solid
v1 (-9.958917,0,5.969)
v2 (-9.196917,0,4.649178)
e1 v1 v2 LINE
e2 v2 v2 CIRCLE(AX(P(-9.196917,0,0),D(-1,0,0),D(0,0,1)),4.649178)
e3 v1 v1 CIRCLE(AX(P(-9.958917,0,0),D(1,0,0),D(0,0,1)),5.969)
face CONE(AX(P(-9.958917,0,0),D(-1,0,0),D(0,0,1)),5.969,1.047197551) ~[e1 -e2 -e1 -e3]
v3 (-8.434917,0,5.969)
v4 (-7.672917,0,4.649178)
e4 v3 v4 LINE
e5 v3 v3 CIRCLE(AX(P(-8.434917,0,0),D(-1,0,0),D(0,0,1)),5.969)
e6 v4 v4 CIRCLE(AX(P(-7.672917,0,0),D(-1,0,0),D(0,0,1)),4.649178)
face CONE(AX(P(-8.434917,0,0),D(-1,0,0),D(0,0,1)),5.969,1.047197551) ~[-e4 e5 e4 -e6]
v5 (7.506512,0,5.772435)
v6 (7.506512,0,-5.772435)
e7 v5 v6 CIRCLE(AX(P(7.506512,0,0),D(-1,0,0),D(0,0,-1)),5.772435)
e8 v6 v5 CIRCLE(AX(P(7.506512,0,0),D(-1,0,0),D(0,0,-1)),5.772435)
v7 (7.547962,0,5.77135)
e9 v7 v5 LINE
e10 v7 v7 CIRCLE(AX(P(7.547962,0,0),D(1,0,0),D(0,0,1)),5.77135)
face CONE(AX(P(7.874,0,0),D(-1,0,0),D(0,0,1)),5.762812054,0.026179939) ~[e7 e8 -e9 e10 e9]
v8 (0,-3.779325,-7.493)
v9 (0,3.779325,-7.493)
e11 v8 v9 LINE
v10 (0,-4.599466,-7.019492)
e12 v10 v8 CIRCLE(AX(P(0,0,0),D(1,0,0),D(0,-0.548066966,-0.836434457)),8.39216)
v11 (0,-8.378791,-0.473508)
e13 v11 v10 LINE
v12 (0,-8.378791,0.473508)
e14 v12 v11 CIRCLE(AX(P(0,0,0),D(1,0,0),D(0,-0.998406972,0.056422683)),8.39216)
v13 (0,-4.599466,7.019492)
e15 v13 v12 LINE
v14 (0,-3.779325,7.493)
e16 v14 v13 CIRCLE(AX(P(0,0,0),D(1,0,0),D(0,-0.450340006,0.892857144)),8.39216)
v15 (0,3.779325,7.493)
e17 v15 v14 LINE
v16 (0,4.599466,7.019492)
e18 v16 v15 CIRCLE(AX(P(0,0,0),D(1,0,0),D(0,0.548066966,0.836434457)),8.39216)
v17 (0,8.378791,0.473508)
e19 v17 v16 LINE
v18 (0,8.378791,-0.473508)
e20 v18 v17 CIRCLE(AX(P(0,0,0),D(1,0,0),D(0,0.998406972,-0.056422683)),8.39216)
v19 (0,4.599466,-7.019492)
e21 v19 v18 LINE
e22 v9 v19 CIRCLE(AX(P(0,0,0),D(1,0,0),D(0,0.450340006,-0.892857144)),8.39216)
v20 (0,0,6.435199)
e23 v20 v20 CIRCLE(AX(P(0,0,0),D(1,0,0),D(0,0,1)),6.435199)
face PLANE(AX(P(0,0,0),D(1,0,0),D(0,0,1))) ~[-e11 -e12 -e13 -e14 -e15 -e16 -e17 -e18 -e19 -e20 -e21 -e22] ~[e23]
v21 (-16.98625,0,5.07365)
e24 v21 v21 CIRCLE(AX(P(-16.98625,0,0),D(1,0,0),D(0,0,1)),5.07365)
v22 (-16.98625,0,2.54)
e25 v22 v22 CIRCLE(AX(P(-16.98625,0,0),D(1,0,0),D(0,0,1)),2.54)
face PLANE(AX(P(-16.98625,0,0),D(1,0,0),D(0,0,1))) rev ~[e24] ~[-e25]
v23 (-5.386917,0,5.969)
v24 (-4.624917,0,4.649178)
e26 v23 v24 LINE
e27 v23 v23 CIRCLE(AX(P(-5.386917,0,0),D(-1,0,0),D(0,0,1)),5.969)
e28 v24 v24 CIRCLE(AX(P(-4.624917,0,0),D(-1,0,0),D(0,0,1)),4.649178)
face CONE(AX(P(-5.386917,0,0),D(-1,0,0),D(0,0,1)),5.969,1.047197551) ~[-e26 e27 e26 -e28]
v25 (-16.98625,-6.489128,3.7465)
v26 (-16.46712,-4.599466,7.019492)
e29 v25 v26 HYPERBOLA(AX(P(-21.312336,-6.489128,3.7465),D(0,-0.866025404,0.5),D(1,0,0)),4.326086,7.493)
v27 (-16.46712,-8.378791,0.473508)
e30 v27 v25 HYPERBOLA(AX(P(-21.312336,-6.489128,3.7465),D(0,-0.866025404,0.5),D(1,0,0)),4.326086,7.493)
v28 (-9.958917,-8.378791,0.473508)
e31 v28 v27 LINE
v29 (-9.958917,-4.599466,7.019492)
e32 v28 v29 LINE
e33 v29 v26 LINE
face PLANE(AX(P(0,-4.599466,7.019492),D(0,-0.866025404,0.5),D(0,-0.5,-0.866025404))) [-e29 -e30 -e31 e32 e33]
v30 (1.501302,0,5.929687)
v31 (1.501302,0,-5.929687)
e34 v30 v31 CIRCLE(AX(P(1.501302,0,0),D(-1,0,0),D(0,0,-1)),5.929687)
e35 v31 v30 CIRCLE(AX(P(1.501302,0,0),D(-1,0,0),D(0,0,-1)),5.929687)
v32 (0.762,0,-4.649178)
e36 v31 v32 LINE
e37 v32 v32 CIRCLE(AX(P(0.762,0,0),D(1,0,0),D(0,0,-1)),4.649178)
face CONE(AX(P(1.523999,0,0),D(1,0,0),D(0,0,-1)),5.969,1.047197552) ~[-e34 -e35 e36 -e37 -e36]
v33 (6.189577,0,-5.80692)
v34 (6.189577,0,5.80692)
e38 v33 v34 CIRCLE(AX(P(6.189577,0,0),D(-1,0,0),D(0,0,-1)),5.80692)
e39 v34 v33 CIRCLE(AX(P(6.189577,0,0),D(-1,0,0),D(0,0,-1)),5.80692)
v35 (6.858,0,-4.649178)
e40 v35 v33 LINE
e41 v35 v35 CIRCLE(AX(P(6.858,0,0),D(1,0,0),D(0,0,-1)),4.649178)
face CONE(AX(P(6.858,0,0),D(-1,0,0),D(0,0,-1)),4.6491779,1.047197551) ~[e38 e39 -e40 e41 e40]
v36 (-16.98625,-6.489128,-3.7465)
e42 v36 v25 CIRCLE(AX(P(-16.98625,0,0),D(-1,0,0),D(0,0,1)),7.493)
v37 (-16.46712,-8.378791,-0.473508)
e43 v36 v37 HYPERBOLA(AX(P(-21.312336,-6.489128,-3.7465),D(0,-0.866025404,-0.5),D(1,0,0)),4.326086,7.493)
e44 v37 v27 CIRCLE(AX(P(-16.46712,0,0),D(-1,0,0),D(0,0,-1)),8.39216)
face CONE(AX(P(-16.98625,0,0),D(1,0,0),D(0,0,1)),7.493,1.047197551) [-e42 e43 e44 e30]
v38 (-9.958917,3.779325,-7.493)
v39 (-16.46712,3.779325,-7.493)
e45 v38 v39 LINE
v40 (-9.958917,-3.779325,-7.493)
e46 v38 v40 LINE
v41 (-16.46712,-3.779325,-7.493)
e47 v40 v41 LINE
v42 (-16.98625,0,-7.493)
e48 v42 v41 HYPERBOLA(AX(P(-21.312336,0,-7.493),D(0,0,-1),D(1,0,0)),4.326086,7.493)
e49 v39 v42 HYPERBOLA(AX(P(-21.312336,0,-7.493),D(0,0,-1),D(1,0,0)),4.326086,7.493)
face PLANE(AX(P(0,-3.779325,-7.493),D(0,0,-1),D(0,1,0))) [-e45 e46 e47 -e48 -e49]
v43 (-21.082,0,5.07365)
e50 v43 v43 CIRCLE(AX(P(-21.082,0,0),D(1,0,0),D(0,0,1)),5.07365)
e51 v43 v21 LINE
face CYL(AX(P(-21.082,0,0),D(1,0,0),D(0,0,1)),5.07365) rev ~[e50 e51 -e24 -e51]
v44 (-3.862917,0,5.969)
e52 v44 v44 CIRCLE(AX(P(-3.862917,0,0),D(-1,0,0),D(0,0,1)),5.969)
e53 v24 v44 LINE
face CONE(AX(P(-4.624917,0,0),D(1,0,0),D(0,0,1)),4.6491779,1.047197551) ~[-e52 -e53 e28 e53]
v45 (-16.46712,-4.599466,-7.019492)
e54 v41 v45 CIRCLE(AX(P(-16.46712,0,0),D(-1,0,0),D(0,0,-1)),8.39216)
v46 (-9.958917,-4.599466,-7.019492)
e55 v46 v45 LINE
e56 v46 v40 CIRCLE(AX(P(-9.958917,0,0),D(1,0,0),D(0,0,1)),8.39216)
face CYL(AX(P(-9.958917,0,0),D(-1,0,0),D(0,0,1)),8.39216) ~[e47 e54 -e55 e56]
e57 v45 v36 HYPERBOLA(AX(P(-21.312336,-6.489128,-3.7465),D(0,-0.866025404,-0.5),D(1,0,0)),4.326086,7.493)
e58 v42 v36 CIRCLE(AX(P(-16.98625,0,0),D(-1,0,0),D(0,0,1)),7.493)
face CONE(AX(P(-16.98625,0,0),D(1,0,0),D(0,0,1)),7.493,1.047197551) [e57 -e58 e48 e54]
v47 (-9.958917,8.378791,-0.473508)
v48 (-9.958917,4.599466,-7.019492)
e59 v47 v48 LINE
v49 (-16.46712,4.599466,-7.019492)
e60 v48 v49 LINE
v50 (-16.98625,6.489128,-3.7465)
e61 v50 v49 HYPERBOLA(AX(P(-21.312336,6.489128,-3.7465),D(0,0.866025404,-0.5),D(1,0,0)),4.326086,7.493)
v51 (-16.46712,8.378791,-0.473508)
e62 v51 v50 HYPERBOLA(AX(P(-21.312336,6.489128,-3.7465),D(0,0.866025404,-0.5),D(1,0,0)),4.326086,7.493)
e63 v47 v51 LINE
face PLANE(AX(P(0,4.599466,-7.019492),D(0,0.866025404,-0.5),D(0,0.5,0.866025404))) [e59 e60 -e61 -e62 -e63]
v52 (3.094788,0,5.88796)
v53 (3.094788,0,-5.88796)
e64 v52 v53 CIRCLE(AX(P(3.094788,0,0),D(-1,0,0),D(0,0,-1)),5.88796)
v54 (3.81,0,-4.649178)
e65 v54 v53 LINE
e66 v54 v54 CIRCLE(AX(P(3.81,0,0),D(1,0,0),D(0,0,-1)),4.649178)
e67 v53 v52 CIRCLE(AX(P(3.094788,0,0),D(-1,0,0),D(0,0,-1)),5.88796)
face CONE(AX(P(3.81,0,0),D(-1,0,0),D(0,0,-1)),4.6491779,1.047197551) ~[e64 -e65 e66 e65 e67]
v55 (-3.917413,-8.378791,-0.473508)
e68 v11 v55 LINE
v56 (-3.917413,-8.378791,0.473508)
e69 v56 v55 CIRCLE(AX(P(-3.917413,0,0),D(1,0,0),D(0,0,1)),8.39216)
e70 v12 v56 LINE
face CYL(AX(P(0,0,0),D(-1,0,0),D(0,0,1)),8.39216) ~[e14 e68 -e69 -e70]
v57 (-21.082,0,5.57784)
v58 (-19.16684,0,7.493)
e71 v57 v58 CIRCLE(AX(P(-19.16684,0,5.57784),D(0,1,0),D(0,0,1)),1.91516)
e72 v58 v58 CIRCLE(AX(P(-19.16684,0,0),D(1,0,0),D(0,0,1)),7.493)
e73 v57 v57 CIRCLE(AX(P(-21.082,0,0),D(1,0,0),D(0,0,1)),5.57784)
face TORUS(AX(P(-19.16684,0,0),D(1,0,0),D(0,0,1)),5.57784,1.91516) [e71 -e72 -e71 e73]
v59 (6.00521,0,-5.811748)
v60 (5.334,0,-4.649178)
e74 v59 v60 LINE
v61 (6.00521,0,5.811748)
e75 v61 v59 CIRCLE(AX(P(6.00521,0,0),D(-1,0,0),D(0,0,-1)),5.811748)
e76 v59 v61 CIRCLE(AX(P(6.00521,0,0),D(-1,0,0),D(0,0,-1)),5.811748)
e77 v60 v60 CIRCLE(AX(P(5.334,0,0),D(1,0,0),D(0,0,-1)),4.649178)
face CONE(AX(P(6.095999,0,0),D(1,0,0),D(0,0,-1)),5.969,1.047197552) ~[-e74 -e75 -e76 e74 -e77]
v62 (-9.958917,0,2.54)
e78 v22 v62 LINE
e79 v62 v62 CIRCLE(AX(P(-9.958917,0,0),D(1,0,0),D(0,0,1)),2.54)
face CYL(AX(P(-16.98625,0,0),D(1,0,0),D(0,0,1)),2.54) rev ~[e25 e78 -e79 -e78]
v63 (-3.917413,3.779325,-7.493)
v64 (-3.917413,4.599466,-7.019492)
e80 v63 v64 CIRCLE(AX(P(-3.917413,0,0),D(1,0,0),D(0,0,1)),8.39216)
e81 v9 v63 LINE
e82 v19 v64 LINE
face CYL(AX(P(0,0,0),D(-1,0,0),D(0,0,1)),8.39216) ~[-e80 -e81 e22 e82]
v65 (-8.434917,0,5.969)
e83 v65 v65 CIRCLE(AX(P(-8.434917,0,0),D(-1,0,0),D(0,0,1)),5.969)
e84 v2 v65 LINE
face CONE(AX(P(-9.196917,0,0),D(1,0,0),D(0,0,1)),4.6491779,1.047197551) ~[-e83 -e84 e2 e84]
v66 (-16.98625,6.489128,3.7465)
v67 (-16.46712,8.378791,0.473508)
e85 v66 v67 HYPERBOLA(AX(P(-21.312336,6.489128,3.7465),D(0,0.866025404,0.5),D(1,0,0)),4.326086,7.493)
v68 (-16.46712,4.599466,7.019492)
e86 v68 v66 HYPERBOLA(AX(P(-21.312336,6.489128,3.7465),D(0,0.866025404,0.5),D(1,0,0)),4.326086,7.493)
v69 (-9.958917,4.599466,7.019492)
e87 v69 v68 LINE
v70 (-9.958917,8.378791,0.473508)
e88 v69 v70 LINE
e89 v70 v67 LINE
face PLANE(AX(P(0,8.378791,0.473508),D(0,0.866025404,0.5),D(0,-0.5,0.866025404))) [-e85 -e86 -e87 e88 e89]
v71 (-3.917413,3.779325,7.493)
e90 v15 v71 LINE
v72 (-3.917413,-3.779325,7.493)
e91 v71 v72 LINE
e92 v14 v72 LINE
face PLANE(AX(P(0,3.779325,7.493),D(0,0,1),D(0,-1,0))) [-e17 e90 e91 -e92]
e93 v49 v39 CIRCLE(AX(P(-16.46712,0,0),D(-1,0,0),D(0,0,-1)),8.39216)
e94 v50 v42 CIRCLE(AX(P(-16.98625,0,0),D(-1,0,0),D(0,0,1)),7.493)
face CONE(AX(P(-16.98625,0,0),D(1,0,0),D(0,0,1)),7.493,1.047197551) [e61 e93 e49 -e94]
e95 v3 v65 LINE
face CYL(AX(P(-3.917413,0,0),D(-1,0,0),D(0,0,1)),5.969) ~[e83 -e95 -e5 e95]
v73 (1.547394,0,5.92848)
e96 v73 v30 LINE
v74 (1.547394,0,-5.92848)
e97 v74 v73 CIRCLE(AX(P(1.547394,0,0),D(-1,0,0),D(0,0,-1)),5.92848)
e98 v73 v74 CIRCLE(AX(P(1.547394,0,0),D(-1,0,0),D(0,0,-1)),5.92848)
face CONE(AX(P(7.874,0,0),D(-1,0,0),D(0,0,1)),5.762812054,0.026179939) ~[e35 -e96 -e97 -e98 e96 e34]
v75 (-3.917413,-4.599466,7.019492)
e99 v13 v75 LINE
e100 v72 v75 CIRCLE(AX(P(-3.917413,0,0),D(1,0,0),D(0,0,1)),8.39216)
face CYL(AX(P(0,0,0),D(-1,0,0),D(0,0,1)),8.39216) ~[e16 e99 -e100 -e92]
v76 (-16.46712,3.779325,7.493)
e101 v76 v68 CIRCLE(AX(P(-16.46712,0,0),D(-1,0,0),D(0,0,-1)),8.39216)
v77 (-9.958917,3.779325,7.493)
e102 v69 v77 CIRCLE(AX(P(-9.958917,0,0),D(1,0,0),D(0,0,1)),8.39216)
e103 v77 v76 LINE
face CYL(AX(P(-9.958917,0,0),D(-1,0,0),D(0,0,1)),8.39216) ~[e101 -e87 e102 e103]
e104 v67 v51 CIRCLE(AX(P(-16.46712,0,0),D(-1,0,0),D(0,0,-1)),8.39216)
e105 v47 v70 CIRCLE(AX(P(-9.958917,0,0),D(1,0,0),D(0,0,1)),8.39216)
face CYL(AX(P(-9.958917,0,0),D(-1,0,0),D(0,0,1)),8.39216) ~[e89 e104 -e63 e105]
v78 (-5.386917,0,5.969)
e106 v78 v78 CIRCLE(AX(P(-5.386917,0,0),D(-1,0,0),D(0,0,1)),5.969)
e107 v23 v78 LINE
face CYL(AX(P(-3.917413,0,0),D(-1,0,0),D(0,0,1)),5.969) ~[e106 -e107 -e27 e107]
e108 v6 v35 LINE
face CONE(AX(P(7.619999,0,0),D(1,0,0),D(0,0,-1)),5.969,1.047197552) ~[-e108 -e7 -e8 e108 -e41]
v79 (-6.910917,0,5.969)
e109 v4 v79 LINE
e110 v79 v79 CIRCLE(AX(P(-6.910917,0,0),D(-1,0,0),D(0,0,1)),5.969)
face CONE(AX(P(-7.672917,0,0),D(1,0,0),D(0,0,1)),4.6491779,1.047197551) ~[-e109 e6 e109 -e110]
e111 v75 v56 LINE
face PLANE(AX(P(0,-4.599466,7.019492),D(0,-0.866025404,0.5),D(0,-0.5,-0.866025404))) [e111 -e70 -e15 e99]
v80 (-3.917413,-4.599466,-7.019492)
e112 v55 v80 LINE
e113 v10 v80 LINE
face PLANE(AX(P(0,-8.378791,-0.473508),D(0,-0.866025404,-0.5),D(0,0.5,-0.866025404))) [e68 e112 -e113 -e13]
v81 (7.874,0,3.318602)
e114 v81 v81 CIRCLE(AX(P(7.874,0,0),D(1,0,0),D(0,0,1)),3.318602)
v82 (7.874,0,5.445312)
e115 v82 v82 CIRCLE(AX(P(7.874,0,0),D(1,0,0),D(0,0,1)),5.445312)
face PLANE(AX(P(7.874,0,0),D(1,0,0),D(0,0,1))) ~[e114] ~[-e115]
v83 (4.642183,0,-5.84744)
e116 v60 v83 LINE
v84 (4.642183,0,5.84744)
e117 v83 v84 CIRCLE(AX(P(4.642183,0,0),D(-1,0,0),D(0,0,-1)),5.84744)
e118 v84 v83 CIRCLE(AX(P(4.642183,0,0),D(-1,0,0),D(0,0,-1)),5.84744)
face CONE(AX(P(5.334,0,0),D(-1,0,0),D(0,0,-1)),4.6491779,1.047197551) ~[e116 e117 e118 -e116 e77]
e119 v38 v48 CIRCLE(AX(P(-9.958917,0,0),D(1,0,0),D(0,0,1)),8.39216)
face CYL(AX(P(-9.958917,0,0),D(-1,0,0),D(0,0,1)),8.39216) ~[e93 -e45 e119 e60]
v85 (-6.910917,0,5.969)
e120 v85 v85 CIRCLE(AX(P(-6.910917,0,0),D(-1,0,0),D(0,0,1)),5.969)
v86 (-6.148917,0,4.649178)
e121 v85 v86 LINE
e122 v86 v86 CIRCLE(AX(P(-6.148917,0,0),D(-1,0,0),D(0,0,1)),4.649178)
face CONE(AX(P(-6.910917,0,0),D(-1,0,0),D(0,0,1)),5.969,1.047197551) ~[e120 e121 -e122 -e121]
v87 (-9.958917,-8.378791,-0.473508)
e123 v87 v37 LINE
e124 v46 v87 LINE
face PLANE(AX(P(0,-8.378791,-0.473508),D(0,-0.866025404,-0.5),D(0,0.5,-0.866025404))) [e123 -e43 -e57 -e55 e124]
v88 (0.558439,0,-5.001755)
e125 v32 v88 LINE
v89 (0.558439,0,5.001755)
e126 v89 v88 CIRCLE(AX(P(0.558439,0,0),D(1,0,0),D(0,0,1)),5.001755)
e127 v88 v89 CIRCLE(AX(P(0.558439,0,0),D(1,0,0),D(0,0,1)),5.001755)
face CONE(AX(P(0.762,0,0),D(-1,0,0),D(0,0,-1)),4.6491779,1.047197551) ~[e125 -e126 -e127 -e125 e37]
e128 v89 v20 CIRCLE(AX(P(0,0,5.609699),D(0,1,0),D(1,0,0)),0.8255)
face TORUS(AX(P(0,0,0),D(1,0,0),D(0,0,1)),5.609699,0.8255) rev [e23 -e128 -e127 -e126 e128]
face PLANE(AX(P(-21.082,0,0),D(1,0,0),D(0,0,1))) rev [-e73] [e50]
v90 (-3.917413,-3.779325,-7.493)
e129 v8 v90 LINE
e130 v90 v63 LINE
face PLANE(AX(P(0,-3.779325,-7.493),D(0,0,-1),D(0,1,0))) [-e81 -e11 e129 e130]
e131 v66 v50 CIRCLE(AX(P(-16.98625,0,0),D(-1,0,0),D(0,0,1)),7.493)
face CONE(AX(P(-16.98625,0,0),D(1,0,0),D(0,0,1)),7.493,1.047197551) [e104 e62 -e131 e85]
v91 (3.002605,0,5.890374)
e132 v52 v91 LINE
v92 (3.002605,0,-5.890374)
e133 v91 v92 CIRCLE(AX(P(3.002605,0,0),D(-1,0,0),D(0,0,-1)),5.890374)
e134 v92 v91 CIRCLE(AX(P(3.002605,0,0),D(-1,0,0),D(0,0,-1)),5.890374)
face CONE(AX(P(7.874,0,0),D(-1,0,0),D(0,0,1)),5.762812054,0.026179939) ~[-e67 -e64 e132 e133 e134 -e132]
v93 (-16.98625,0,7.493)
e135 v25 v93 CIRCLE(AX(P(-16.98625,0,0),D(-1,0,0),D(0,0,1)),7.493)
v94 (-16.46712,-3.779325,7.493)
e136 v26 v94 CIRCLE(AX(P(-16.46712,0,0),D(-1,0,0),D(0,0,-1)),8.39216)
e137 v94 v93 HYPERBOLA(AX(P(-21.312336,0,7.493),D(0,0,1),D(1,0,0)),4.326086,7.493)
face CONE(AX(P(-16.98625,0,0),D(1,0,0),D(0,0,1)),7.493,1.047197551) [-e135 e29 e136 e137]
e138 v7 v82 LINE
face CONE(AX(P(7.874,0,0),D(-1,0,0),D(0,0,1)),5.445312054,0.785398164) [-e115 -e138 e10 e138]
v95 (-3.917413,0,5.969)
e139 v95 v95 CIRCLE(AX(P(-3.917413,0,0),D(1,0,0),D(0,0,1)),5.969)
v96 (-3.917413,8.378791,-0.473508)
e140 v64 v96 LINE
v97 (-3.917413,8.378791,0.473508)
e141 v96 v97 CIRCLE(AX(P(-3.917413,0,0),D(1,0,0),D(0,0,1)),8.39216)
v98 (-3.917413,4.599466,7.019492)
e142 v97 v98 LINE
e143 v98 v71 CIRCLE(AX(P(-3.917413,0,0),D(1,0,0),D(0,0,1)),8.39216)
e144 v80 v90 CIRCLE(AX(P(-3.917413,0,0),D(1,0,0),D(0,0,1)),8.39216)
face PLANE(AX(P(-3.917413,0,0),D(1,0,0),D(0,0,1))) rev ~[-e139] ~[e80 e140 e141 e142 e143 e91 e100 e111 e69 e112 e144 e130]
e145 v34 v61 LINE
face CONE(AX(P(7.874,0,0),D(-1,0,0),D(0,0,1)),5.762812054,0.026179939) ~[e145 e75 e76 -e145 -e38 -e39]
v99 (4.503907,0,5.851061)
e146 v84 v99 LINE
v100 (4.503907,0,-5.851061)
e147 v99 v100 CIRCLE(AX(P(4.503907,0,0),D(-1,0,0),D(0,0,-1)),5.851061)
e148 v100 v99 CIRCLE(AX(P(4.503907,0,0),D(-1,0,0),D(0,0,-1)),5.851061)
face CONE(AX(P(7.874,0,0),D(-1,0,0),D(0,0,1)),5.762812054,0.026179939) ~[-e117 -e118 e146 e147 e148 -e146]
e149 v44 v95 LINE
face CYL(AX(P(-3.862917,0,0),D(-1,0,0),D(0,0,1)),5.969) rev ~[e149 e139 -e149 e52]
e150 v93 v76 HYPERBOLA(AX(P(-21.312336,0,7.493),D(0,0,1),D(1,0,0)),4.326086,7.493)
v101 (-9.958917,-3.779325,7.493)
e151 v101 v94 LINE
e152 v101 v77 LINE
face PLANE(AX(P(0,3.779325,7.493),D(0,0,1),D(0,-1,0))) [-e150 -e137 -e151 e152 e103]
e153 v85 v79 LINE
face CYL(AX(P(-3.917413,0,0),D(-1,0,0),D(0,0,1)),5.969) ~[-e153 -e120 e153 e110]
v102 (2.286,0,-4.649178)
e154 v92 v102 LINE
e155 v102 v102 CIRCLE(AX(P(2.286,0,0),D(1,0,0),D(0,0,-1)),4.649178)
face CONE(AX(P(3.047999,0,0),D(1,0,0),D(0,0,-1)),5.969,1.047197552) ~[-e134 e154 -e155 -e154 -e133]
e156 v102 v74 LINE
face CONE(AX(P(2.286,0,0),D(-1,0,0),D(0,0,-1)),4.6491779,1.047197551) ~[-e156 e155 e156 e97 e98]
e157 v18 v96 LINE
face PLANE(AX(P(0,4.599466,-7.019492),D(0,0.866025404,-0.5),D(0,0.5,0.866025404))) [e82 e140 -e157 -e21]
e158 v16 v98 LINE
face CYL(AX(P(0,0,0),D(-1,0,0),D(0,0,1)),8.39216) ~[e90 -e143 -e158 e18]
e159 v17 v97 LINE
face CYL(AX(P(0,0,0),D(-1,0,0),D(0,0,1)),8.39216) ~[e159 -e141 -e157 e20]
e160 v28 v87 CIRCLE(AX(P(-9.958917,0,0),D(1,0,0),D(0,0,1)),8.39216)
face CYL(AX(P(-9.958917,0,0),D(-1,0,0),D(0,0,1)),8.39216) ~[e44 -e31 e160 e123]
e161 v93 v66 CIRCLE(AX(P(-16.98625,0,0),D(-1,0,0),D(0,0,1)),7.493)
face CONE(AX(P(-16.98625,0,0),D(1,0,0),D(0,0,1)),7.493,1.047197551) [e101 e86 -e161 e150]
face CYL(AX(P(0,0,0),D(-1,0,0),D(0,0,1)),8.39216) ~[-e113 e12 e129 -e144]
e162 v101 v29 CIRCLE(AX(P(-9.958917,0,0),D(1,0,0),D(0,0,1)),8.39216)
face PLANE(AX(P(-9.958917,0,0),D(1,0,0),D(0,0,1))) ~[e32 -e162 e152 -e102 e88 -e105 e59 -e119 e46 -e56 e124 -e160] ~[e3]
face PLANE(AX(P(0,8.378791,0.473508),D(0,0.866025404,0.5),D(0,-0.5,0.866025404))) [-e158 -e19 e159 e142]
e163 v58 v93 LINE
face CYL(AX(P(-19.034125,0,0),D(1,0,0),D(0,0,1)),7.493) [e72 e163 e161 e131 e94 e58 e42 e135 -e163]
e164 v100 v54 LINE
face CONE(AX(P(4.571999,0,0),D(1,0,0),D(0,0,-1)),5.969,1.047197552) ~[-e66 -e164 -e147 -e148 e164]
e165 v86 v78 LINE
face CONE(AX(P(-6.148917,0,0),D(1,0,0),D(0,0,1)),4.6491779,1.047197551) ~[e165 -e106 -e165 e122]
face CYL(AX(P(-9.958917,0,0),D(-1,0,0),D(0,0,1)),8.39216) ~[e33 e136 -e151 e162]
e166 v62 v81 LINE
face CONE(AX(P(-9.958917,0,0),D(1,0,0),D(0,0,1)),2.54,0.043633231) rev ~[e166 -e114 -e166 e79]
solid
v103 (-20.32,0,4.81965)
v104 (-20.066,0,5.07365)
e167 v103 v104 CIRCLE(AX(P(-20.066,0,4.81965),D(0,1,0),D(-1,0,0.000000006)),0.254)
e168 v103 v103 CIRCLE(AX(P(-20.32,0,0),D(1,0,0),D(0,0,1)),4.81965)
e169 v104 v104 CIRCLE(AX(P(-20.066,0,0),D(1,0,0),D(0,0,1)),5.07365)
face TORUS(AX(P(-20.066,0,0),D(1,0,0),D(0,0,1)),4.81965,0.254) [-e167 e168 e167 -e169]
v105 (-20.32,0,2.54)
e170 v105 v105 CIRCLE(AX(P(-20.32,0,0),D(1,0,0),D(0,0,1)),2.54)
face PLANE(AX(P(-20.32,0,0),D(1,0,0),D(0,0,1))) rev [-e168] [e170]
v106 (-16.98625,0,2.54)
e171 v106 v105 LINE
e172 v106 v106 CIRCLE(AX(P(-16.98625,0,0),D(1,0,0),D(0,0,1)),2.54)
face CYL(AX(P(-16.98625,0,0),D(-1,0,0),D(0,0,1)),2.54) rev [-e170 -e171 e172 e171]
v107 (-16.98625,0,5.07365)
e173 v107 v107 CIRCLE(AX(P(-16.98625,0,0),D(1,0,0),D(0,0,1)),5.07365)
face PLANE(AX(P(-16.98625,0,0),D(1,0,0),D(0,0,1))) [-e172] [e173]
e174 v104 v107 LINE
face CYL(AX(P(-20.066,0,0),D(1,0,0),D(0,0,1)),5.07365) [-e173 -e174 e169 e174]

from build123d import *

# Parameters (mm, degrees)
SKETCH2_OUTSIDE_W  = 26.272
SKETCH2_OUTSIDE_H  = 26.272
CUT_EXTRUDE1_DEPTH = 16.98625
CHAMFER1_SIZE      = 0.326149358
CHAMFER1_SIZE2     = 0.3175
SKETCH3_OUTSIDE_W  = 113.902
SKETCH3_OUTSIDE_H  = 115.7
SKETCH3_OUTSIDE_R  = 7.493
CUT_EXTRUDE2_DEPTH = 25.86025
CUT_EXTRUDE2_DRAFT = -60
SKETCH14_W         = 4.09575
SKETCH14_H         = 1.524
FILLET1_R          = 1.91516
LPATTERN1_COUNT    = 4
LPATTERN1_PITCH    = 1.524
LPATTERN2_COUNT    = 6
LPATTERN2_PITCH    = 1.524
SKETCH15_R         = 0.8255


with BuildPart() as part:
    # Sketch1 → Revolve1 (revolve)
    with BuildSketch(Plane.XY, mode=Mode.PRIVATE) as revolve1_sk:
        Polygon((-9.958916667, 5.969), (-9.958916667, 8.39216), (-16.98625, 8.39216), (-16.98625, 5.969), (-21.082, 5.969), (-21.082, 5.07365), (-16.98625, 5.07365), (-16.98625, 2.54), (-9.958916667, 2.54), (7.874, 3.318601956), (7.874, 5.762812054), (0, 5.969), (0, 8.39216), (-3.917412935, 8.39216), (-3.917412935, 5.969), align=None)
    revolve(revolve1_sk.sketch.rotate(Axis((-18.386021217, 0, 0), (1, 0, 0)), 90), axis=Axis((-18.386021217, 0, 0), (1, 0, 0)))  # turned: the seam where the file's is

    # Sketch2 outside → Cut-Extrude1 (cut)
    with BuildSketch(Plane(origin=(0, 0, 0), x_dir=(0, 0, -1), z_dir=(1, 0, 0))):
        Rectangle(SKETCH2_OUTSIDE_W, SKETCH2_OUTSIDE_H)
        with BuildLine():
            Line((7.493, -3.779325398), (7.493, 3.779325398))
            ThreePointArc((7.493, 3.779325398), (7.267823753, 4.19608), (7.019491804, 4.599465651))
            Line((7.019491804, 4.599465651), (0.473508196, 8.37879105))
            ThreePointArc((0.473508196, 8.37879105), (0, 8.39216), (-0.473508196, 8.37879105))
            Line((-0.473508196, 8.37879105), (-7.019491804, 4.599465651))
            ThreePointArc((-7.019491804, 4.599465651), (-7.267823753, 4.19608), (-7.493, 3.779325398))
            Line((-7.493, 3.779325398), (-7.493, -3.779325398))
            ThreePointArc((-7.493, -3.779325398), (-7.267823753, -4.19608), (-7.019491804, -4.599465651))
            Line((-7.019491804, -4.599465651), (-0.473508196, -8.37879105))
            ThreePointArc((-0.473508196, -8.37879105), (0, -8.39216), (0.473508196, -8.37879105))
            Line((0.473508196, -8.37879105), (7.019491804, -4.599465651))
            ThreePointArc((7.019491804, -4.599465651), (7.267823753, -4.19608), (7.493, -3.779325398))
        make_face(mode=Mode.SUBTRACT)
    extrude(amount=-CUT_EXTRUDE1_DEPTH, mode=Mode.SUBTRACT)

    # Chamfer1
    chamfer1_edges = [part.edges().sort_by_distance(p)[0] for p in [
        (7.874, 0, -5.762812054),
    ]]
    chamfer1_side = [part.faces().sort_by_distance(p)[0] for p in [
        (3.937, 0, -5.865906027),
    ]]
    chamfer(chamfer1_edges, length=CHAMFER1_SIZE, length2=CHAMFER1_SIZE2, reference=chamfer1_side[0])


with BuildPart() as cut_extrude2_tool:
    # Sketch3 outside → Cut-Extrude2 (with draft: the straight prism first)
    with BuildSketch(Plane.ZY.offset(16.98625)):
        Rectangle(SKETCH3_OUTSIDE_W, SKETCH3_OUTSIDE_H)
        Circle(SKETCH3_OUTSIDE_R, mode=Mode.SUBTRACT)
    extrude(amount=-CUT_EXTRUDE2_DEPTH)
    # Cut-Extrude2: the draft: its side faces are tilted about the plane it starts from
    cut_extrude2_sides = [cut_extrude2_tool.faces().sort_by_distance(p)[0] for p in [
        (-4.056125, -57.85, 0),
        (-4.056125, 0, 56.951),
        (-4.056125, 57.85, 0),
        (-4.056125, 0, -56.951),
        (-4.056125, 0, -7.493),
    ]]
    draft(cut_extrude2_sides, Plane.ZY.offset(16.98625), CUT_EXTRUDE2_DRAFT)


with BuildPart() as part_1:
    add(part.part)

    # Cut-Extrude2: cut by cut_extrude2_tool
    add(cut_extrude2_tool.part, mode=Mode.SUBTRACT)

    # Sketch14 → Revolve4 (revolve)
    with BuildSketch(Plane.XY, mode=Mode.PRIVATE) as revolve4_sk:
        with Locations((-19.034125, 6.731)):
            Rectangle(SKETCH14_W, SKETCH14_H)
    revolve(revolve4_sk.sketch.rotate(Axis((-18.386021217, 0, 0), (1, 0, 0)), 90), axis=Axis((-18.386021217, 0, 0), (1, 0, 0)))  # turned: the seam where the file's is

    # Fillet1
    fillet1_edges = [part_1.edges().sort_by_distance(p)[0] for p in [
        (-21.082, 0, -7.493),
    ]]
    fillet(fillet1_edges, radius=FILLET1_R)

    # Sketch10 → Cut-Revolve1 (revolve, cut)
    with BuildSketch(Plane.XY, mode=Mode.PRIVATE) as cut_revolve1_sk:
        Polygon((-9.958916667, 5.969), (-9.196917022, 4.6491779), (-8.434917377, 5.969), align=None)
    cut_revolve1 = revolve(cut_revolve1_sk.sketch.rotate(Axis((15.58962545, 0, 0), (-1, 0, 0)), 270), axis=Axis((15.58962545, 0, 0), (-1, 0, 0)), mode=Mode.SUBTRACT)  # turned: the seam where the file's is

    # LPattern1: Cut-Revolve1 ×4
    with Locations(*[(i * LPATTERN1_PITCH, 0, 0) for i in range(1, LPATTERN1_COUNT)]):
        add(cut_revolve1, mode=Mode.SUBTRACT)

    # Sketch13 → Cut-Revolve2 (revolve, cut)
    with BuildSketch(Plane.XY, mode=Mode.PRIVATE) as cut_revolve2_sk:
        Polygon((0, 5.969), (1.523999289, 5.969), (0.761999645, 4.6491779), align=None)
    cut_revolve2 = revolve(cut_revolve2_sk.sketch.rotate(Axis((-18.386021217, 0, 0), (1, 0, 0)), 270), axis=Axis((-18.386021217, 0, 0), (1, 0, 0)), mode=Mode.SUBTRACT)  # turned: the seam where the file's is

    # LPattern2: Cut-Revolve2 ×6
    with Locations(*[(i * LPATTERN2_PITCH, 0, 0) for i in range(1, LPATTERN2_COUNT)]):
        add(cut_revolve2, mode=Mode.SUBTRACT)

    # Sketch15 → Cut-Revolve3 (revolve, cut)
    with BuildSketch(Plane.XY, mode=Mode.PRIVATE) as cut_revolve3_sk:
        with Locations((0, -5.609698712)):
            Circle(SKETCH15_R)
    revolve(cut_revolve3_sk.sketch.rotate(Axis((1.524, 0, 0), (-1, 0, 0)), 90), axis=Axis((1.524, 0, 0), (-1, 0, 0)), mode=Mode.SUBTRACT)  # turned: the seam where the file's is


with BuildPart() as body_2:
    # Sketch16 → Revolve5 (revolve)
    with BuildSketch(Plane.XY, mode=Mode.PRIVATE) as revolve5_sk:
        with BuildLine():
            Line((-20.066, 5.07365), (-16.98625, 5.07365))
            Line((-16.98625, 5.07365), (-16.98625, 2.54))
            Line((-16.98625, 2.54), (-20.32, 2.54))
            Line((-20.32, 2.54), (-20.32, 4.81965))
            ThreePointArc((-20.32, 4.81965), (-20.245605122, 4.999255122), (-20.066, 5.07365))
        make_face()
    revolve(revolve5_sk.sketch.rotate(Axis((-18.386021217, 0, 0), (1, 0, 0)), 90), axis=Axis((-18.386021217, 0, 0), (1, 0, 0)))  # turned: the seam where the file's is


solid = Compound([part_1.part, body_2.part])
